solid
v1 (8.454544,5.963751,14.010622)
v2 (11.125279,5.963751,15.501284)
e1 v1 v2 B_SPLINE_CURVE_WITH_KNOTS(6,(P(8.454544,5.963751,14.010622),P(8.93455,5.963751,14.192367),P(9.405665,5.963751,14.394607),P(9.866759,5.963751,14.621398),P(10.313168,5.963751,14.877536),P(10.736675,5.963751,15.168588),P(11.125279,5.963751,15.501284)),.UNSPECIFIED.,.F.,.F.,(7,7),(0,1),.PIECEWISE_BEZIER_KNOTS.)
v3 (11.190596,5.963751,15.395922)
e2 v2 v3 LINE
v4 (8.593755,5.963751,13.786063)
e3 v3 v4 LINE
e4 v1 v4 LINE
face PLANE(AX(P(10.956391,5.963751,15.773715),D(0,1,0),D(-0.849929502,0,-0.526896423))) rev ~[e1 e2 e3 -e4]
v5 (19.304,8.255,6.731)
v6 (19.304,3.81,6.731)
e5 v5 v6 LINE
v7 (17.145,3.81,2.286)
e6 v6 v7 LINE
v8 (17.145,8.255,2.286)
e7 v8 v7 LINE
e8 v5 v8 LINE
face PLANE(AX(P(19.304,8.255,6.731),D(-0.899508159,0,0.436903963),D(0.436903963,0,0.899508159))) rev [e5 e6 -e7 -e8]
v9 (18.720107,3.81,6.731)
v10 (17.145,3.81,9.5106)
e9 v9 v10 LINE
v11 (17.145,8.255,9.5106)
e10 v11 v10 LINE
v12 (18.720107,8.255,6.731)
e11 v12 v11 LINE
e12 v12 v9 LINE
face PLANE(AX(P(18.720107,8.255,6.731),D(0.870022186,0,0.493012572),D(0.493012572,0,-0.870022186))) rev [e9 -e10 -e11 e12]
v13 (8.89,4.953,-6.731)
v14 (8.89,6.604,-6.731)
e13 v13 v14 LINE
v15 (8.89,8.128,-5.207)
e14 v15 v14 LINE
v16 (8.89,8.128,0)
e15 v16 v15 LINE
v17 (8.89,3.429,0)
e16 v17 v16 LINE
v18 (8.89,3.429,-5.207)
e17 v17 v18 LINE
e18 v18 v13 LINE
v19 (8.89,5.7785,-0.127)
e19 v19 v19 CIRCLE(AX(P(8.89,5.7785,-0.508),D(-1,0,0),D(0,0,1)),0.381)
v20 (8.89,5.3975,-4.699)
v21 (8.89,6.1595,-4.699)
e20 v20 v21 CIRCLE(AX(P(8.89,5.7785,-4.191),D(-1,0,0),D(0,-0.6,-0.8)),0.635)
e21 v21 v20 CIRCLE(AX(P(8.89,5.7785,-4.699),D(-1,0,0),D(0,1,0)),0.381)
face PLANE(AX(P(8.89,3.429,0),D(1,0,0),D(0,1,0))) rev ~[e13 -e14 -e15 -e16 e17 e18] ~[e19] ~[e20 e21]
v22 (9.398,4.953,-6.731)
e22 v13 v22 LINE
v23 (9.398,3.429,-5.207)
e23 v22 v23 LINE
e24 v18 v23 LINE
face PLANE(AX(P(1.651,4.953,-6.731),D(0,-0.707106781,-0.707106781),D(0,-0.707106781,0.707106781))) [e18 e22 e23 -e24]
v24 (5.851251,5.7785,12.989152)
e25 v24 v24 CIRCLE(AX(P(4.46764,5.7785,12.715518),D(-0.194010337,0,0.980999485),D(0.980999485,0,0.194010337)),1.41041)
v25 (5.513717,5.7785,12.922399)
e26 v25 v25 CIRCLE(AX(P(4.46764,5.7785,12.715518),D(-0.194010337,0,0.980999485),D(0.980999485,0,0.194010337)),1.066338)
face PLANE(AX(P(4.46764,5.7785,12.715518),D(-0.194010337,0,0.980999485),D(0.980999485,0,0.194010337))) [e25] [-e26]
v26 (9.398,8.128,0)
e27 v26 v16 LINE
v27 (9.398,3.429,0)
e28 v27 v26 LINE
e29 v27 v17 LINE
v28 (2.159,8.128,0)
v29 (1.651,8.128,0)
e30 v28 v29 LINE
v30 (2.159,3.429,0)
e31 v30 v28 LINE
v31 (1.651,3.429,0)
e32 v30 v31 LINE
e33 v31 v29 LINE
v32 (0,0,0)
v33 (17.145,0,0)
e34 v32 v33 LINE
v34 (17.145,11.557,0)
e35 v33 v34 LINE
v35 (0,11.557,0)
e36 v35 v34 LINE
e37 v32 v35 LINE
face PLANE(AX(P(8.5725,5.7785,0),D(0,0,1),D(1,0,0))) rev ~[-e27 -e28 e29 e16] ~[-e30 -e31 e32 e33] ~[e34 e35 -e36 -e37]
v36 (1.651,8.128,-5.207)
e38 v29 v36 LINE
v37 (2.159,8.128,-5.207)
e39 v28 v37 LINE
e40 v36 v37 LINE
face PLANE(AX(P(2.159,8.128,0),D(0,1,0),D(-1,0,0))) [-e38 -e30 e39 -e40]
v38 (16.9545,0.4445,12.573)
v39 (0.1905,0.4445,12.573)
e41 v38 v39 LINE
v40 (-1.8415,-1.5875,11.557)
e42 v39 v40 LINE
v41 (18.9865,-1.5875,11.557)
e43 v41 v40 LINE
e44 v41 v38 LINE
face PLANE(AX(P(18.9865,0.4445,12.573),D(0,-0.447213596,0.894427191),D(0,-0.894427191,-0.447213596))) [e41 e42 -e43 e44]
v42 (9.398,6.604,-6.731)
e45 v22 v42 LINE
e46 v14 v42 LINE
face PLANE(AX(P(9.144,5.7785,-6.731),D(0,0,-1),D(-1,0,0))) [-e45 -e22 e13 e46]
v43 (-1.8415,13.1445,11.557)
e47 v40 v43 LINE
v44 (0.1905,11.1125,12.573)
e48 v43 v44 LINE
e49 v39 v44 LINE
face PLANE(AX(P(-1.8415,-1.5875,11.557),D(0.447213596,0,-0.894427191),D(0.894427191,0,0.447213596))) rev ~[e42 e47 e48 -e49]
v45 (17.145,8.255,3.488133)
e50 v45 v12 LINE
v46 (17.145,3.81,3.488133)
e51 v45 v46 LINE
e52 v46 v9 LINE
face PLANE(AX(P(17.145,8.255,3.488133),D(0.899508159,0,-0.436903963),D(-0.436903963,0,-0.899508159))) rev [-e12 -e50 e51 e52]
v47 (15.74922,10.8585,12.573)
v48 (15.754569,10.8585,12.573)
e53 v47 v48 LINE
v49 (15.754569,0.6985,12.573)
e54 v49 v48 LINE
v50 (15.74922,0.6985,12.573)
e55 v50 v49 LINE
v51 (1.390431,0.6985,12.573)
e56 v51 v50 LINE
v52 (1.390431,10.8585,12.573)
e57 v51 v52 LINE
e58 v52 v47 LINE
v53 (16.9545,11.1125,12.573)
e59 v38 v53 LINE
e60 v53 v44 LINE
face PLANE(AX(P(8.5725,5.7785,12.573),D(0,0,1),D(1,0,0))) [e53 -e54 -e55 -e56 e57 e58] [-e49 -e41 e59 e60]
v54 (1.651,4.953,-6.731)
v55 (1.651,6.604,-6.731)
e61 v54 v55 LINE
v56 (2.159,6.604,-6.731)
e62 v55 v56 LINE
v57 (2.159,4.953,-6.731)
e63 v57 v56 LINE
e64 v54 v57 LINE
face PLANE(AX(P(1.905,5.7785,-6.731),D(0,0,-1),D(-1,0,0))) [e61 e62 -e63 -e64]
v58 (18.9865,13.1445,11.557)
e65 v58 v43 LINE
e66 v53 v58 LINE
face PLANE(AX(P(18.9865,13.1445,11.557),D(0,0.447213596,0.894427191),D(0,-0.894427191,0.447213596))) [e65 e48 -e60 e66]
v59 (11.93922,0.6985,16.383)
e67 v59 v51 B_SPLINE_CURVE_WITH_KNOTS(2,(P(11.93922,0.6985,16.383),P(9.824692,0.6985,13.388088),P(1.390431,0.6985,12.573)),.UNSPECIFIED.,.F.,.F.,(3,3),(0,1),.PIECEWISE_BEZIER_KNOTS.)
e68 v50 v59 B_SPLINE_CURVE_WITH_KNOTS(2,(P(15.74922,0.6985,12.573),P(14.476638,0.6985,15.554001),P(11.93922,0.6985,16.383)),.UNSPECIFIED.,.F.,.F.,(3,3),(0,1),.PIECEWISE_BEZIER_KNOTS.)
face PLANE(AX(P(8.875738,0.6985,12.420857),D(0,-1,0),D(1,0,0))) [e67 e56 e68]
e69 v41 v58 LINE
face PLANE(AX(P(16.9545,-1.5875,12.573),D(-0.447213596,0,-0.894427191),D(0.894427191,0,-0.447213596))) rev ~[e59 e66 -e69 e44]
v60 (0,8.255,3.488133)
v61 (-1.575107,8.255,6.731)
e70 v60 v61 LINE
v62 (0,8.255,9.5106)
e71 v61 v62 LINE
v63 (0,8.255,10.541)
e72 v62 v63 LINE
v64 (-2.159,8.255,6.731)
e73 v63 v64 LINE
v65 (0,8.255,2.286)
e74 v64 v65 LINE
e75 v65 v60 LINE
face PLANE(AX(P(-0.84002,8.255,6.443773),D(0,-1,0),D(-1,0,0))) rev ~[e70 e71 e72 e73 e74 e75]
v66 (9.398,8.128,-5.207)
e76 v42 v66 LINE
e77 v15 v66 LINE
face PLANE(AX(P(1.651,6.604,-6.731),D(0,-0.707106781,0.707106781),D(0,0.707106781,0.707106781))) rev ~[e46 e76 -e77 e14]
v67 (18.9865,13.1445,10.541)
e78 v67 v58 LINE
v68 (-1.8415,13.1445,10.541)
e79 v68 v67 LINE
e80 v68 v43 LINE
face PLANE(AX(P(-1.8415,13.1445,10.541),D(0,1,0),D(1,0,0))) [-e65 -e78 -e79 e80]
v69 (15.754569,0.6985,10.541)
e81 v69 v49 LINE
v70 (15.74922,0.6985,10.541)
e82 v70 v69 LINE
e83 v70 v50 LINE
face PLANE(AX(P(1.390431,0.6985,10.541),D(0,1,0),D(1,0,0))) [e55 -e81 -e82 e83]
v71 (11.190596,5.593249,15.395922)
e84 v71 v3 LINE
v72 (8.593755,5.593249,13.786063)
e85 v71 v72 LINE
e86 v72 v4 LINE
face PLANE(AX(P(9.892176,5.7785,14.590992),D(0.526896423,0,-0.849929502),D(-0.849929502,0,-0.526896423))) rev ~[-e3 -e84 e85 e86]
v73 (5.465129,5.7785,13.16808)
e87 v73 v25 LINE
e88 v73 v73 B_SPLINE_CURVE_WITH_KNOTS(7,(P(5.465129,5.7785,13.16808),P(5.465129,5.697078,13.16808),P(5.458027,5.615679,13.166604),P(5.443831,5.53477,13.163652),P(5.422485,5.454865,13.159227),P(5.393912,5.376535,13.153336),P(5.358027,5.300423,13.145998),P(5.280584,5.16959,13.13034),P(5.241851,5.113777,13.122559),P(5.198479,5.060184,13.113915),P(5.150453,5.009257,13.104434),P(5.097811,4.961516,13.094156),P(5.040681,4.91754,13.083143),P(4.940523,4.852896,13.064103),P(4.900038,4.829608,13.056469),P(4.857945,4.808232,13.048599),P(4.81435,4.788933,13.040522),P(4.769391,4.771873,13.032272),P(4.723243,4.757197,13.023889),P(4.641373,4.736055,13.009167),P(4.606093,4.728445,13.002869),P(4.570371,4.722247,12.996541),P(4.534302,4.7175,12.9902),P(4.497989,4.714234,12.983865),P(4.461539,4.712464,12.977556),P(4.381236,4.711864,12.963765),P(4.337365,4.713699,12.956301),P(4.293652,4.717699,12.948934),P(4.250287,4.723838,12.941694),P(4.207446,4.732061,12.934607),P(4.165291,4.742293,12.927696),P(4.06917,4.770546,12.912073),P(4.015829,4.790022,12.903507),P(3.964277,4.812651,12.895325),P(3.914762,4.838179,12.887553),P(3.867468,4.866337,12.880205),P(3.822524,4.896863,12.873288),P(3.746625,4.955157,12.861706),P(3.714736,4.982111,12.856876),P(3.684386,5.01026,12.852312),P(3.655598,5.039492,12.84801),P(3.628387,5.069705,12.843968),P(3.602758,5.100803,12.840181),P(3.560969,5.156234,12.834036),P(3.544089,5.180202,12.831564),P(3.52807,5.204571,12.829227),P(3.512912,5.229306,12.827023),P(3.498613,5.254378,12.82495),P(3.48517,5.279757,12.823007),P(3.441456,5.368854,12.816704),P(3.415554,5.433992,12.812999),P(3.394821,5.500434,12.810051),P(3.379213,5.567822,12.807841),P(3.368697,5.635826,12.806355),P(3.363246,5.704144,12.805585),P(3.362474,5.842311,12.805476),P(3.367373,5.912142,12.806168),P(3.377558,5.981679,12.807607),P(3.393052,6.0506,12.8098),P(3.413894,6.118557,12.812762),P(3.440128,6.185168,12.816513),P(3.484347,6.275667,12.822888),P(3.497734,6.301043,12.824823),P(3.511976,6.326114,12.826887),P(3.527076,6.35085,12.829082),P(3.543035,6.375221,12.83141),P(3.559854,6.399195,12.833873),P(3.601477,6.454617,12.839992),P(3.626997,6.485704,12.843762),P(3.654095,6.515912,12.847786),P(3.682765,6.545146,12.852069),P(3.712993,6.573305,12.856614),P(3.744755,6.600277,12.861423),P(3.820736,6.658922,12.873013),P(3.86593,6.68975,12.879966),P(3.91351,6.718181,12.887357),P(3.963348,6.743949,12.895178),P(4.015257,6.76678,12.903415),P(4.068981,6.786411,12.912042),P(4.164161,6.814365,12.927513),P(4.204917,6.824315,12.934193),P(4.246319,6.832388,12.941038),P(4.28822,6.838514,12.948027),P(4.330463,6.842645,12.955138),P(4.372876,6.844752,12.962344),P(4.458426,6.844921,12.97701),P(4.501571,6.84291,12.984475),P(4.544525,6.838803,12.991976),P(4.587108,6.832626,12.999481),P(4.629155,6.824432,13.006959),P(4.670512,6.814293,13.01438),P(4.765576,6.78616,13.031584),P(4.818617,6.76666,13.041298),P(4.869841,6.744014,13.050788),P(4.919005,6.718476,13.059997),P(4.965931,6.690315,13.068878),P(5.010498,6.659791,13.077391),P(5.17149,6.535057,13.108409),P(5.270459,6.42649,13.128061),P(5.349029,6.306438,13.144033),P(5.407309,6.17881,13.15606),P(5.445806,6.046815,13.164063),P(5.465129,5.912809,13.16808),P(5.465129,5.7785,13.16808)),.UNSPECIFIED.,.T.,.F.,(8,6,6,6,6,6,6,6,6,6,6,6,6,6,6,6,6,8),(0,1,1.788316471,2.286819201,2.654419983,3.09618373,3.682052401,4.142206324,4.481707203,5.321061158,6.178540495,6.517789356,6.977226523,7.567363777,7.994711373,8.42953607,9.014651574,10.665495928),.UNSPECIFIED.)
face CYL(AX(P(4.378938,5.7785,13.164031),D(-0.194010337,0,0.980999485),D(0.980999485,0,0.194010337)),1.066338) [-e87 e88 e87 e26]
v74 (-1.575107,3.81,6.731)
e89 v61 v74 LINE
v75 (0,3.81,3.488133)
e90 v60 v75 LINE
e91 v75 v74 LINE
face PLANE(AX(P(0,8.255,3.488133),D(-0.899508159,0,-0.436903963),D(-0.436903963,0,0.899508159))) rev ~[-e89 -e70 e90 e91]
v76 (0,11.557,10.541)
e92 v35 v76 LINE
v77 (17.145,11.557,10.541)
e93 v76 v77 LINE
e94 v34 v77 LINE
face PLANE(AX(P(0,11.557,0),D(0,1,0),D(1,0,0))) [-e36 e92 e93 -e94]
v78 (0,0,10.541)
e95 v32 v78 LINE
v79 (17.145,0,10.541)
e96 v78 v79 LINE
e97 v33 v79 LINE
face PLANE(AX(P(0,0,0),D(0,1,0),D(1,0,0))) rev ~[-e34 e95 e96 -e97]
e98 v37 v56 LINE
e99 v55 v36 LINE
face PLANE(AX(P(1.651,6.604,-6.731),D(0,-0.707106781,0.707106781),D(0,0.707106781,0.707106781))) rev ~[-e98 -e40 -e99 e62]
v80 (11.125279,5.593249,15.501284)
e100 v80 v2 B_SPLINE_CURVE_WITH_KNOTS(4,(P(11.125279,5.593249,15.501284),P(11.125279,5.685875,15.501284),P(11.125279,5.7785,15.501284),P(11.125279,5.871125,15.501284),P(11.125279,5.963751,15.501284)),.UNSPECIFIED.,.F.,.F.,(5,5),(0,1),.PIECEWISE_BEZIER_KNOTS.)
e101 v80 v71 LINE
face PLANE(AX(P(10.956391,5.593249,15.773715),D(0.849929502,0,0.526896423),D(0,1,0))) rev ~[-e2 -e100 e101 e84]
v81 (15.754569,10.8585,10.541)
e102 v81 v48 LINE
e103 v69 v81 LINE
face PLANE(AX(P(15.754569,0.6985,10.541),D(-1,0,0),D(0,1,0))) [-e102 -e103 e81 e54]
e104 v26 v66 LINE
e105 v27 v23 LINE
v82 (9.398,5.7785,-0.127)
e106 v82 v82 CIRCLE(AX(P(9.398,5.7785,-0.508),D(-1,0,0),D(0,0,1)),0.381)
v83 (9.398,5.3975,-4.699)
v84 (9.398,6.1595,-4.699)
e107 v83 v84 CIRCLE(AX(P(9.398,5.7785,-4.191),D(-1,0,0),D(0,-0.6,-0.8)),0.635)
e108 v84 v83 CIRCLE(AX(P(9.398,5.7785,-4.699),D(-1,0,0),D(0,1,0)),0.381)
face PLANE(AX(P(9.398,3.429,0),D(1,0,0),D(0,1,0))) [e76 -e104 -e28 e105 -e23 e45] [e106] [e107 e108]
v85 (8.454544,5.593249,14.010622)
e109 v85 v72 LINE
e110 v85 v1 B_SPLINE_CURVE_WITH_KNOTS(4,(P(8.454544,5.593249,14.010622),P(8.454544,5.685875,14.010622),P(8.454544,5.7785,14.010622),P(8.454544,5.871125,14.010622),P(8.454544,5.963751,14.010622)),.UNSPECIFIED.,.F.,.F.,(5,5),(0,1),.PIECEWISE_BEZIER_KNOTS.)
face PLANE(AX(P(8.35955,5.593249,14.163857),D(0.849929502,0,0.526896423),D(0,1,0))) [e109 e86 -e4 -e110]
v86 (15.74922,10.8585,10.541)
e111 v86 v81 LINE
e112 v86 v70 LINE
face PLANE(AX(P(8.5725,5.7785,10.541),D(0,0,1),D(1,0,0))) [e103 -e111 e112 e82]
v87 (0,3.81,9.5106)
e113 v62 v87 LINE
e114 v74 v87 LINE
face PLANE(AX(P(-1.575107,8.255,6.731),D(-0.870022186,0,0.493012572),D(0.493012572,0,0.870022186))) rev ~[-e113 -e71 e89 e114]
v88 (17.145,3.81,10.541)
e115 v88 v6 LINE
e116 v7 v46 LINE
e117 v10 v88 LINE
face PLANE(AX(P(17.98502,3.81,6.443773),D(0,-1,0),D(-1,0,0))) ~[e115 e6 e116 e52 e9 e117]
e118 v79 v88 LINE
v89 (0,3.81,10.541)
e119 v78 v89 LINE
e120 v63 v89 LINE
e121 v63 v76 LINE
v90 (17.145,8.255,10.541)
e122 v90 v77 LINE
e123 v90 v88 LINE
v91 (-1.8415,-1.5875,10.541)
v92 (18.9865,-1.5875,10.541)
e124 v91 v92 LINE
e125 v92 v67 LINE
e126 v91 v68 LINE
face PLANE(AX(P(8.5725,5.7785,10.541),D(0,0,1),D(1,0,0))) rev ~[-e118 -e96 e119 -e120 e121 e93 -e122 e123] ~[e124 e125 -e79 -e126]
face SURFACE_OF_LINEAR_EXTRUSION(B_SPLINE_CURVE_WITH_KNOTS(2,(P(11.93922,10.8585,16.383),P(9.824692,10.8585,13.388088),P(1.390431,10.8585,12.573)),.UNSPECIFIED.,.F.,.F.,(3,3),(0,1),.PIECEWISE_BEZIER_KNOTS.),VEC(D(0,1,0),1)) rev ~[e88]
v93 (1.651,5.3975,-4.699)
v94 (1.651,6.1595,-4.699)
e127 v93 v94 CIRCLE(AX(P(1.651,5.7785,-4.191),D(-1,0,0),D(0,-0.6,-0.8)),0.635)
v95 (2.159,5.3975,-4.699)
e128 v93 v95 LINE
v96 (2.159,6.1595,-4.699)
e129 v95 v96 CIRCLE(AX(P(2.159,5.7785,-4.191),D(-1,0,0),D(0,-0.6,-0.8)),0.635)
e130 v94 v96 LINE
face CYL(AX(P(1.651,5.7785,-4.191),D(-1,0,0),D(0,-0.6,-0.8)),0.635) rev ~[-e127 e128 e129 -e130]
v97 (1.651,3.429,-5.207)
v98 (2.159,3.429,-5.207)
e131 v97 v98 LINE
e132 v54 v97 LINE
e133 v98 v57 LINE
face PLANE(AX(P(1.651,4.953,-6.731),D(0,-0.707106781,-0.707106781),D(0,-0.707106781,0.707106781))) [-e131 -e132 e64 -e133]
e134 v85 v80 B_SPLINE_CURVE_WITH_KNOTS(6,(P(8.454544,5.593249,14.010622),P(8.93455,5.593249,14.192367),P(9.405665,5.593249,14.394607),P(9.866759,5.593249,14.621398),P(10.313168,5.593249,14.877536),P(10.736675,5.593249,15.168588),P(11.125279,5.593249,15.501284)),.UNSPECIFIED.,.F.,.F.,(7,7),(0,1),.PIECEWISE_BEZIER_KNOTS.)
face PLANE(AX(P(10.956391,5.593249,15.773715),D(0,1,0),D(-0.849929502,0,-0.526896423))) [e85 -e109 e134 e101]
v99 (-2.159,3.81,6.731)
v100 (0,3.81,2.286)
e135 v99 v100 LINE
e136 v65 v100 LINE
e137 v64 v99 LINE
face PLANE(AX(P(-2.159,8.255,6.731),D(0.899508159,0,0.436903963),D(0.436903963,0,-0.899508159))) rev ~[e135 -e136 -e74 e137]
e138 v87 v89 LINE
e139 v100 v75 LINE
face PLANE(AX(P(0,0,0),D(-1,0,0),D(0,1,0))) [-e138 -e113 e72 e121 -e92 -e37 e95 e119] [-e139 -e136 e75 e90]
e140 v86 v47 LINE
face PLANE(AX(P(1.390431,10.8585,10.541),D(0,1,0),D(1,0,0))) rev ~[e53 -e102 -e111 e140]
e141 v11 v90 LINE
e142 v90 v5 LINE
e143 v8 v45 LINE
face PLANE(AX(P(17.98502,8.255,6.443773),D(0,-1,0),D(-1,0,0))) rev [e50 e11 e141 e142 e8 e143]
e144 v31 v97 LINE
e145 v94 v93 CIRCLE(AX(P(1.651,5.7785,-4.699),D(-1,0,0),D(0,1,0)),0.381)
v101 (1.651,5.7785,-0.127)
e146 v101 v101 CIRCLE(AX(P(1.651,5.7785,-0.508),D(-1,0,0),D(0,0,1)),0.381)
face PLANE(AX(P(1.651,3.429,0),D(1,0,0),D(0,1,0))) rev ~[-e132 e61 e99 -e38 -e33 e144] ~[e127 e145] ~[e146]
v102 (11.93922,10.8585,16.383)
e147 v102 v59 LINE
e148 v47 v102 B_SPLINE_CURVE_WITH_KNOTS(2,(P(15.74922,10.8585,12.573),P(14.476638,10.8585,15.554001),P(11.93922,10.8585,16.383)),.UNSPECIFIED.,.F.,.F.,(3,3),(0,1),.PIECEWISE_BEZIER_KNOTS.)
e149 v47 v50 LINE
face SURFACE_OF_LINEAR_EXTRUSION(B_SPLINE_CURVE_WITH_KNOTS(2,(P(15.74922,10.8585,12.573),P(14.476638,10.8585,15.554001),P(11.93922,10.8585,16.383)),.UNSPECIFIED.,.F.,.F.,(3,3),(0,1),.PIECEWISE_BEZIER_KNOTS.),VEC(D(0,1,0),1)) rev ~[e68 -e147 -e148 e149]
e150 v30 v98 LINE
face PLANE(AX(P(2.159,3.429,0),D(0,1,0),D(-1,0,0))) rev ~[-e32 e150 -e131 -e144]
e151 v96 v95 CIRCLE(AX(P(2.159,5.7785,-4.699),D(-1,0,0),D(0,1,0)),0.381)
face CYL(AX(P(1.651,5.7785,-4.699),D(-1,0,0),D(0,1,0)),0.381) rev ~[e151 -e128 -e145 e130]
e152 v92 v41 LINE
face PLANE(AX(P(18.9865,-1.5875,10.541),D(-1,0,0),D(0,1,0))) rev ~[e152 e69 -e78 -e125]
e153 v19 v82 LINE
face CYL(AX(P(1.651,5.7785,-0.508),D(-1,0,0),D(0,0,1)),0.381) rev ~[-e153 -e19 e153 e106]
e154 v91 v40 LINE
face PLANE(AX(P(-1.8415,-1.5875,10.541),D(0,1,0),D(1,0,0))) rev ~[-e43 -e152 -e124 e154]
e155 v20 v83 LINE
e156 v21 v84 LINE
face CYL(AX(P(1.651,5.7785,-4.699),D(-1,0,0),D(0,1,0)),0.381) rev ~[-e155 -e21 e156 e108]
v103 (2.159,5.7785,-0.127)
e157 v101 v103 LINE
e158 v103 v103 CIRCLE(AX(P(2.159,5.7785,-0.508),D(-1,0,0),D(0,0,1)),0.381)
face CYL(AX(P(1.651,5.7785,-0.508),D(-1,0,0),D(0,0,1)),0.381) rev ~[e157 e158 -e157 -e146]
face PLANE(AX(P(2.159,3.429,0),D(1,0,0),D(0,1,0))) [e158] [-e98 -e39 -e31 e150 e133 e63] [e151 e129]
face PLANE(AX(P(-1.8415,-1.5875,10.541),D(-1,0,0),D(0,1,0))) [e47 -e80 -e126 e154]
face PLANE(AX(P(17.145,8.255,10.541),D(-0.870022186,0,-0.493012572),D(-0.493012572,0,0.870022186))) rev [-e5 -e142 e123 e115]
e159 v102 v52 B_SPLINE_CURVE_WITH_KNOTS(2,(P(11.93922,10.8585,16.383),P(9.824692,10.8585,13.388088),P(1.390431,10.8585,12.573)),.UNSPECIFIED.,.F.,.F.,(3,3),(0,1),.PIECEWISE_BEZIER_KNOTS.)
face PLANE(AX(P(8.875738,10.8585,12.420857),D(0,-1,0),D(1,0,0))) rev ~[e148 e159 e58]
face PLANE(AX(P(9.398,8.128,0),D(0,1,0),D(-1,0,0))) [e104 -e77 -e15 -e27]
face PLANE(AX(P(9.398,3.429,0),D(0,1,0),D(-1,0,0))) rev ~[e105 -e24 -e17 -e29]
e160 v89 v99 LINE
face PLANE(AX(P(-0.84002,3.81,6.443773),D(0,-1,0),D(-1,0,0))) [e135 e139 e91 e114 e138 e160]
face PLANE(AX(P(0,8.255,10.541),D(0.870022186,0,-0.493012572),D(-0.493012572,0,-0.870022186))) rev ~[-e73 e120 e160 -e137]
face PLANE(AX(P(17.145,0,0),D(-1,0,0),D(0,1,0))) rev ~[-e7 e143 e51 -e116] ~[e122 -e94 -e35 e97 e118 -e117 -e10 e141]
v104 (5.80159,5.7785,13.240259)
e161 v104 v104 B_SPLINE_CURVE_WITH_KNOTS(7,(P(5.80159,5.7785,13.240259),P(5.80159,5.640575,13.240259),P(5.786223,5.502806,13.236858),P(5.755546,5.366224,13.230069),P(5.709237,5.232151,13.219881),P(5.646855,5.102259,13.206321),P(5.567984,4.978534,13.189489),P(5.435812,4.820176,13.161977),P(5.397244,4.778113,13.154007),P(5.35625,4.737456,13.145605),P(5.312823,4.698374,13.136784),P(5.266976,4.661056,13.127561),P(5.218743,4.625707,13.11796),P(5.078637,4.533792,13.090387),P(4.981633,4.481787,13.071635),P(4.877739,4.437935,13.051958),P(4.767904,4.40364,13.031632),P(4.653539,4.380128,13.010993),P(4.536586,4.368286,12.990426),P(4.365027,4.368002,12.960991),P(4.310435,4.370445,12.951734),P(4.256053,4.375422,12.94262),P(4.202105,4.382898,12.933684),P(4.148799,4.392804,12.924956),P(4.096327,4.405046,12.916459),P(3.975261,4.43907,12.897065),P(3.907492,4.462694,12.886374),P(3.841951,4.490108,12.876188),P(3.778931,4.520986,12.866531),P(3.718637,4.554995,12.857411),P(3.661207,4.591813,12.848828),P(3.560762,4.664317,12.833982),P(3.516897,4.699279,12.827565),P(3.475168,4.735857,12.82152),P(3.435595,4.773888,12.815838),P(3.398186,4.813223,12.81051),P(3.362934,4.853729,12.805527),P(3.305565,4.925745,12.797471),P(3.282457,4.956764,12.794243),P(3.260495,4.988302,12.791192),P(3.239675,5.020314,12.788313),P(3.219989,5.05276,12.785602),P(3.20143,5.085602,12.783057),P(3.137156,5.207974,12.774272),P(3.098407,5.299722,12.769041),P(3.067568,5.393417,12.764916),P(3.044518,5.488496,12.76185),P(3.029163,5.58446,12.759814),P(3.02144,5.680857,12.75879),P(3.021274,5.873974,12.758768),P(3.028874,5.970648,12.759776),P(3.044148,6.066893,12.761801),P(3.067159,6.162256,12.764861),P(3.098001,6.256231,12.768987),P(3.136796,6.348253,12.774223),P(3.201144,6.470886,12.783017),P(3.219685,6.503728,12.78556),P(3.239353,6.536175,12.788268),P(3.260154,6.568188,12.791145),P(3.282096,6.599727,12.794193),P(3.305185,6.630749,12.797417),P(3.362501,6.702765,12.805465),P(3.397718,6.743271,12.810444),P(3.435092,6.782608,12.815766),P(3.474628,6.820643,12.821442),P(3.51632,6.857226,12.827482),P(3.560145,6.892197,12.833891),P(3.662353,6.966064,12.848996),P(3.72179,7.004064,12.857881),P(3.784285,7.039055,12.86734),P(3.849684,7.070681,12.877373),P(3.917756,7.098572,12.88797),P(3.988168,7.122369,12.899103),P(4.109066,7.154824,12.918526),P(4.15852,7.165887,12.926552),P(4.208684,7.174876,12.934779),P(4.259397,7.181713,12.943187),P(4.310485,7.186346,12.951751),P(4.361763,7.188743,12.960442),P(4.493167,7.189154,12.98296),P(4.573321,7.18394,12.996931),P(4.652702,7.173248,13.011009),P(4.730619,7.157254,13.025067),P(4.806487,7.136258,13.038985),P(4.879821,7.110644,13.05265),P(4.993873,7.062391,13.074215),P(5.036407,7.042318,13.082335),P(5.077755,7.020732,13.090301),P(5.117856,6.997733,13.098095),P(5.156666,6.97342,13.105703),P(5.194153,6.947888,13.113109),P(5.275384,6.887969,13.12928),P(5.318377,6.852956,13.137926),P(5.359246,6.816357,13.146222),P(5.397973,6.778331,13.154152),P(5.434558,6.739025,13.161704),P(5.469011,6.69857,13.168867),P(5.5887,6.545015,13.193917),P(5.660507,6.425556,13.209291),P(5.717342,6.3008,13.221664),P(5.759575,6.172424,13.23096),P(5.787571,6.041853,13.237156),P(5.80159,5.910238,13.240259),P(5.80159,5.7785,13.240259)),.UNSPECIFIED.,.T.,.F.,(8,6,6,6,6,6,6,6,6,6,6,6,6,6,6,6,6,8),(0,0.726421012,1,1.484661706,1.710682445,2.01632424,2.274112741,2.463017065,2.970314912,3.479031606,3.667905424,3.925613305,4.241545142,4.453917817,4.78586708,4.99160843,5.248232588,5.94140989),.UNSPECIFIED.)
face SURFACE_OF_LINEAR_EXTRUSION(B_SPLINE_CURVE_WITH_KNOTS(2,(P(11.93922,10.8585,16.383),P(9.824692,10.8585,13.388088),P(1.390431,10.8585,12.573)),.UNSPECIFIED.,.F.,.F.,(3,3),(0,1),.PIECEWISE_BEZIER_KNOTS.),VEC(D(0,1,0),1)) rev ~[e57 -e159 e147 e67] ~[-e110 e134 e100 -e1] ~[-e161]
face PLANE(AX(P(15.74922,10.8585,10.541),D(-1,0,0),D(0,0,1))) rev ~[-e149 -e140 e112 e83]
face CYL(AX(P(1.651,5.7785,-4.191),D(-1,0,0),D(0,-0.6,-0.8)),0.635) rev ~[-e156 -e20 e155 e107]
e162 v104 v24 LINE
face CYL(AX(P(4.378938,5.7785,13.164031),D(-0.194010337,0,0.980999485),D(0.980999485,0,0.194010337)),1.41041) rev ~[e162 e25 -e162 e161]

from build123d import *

# Parameters (mm, degrees)
SKETCH1_W           = 17.145
SKETCH1_H           = 11.557
BOSS_EXTRUDE1_DEPTH = 10.541
SKETCH2_W           = 0.508
SKETCH2_H           = 4.699
BOSS_EXTRUDE2_DEPTH = 6.731
CUT_EXTRUDE1_REACH  = 24.017
SKETCH3_R           = 0.381
SKETCH4_W           = 20.828
SKETCH4_H           = 14.732
SKETCH4_W_2         = 14.364137932
SKETCH4_H_2         = 10.16
BOSS_EXTRUDE3_DEPTH = 2.032
CUT_EXTRUDE2_DEPTH  = 28.121934578
CUT_EXTRUDE3_DEPTH  = 28.652554914
BOSS_EXTRUDE4_DEPTH = 10.16
SKETCH8_W           = 3.055360255
SKETCH8_H           = 0.37050197
CUT_EXTRUDE4_DEPTH  = 0.4445
SKETCH9_R           = 1.410409678
SKETCH9_R_2         = 1.066337698
CUT_EXTRUDE5_DEPTH  = 0.4572
BOSS_EXTRUDE5_DEPTH = 4.445


with BuildPart() as part:
    # Sketch1 → Boss-Extrude1 (new body)
    with BuildSketch(Plane.XY):
        with Locations((8.5725, 5.7785)):
            Rectangle(SKETCH1_W, SKETCH1_H)
    extrude(amount=BOSS_EXTRUDE1_DEPTH)

    # Sketch2 → Boss-Extrude2 (add)
    with BuildSketch(Plane(origin=(0, 0, 0), x_dir=(-1, 0, 0), z_dir=(0, 0, -1))):
        with Locations((-1.905, 5.7785)):
            Rectangle(SKETCH2_W, SKETCH2_H)
        with Locations((-9.144, 5.7785)):
            Rectangle(SKETCH2_W, SKETCH2_H)
    extrude(amount=BOSS_EXTRUDE2_DEPTH)

    # Cut-Extrude1: up to this face of the body (flat: up to its plane)
    cut_extrude1_end = Plane(part.part.faces().sort_by_distance((9.398, 5.7785, -3.3655))[0])
    # Sketch3 → Cut-Extrude1 (cut, up to the picked face)
    with BuildSketch(Plane.ZY.offset(-1.651), mode=Mode.PRIVATE) as cut_extrude1_sk1:
        with Locations((-0.508, 5.7785)):
            Circle(SKETCH3_R)
    cut_extrude1_tool1 = split(extrude(cut_extrude1_sk1.sketch, amount=-CUT_EXTRUDE1_REACH, mode=Mode.PRIVATE), bisect_by=cut_extrude1_end, keep=Keep.BOTH, mode=Mode.PRIVATE)
    # Sketch3 → Cut-Extrude1 (cut, up to the picked face)
    with BuildSketch(Plane.ZY.offset(-1.651), mode=Mode.PRIVATE) as cut_extrude1_sk2:
        Polygon((-6.731, 6.604), (-5.207, 8.128), (-6.731, 8.128), align=None)
    cut_extrude1_tool2 = split(extrude(cut_extrude1_sk2.sketch, amount=-CUT_EXTRUDE1_REACH, mode=Mode.PRIVATE), bisect_by=cut_extrude1_end, keep=Keep.BOTH, mode=Mode.PRIVATE)
    # Sketch3 → Cut-Extrude1 (cut, up to the picked face)
    with BuildSketch(Plane.ZY.offset(-1.651), mode=Mode.PRIVATE) as cut_extrude1_sk3:
        Polygon((-6.731, 4.953), (-5.207, 3.429), (-6.731, 3.429), align=None)
    cut_extrude1_tool3 = split(extrude(cut_extrude1_sk3.sketch, amount=-CUT_EXTRUDE1_REACH, mode=Mode.PRIVATE), bisect_by=cut_extrude1_end, keep=Keep.BOTH, mode=Mode.PRIVATE)
    # Sketch3 → Cut-Extrude1 (cut, up to the picked face)
    with BuildSketch(Plane.ZY.offset(-1.651), mode=Mode.PRIVATE) as cut_extrude1_sk4:
        with BuildLine():
            ThreePointArc((-4.699, 5.3975), (-3.556, 5.7785), (-4.699, 6.1595))
            ThreePointArc((-4.699, 6.1595), (-5.08, 5.7785), (-4.699, 5.3975))
        make_face()
    cut_extrude1_tool4 = split(extrude(cut_extrude1_sk4.sketch, amount=-CUT_EXTRUDE1_REACH, mode=Mode.PRIVATE), bisect_by=cut_extrude1_end, keep=Keep.BOTH, mode=Mode.PRIVATE)
    add(cut_extrude1_tool1.solids().sort_by(Axis((1.651, 5.7785, -0.508), (1, 0, 0)))[0], mode=Mode.SUBTRACT)
    add(cut_extrude1_tool2.solids().sort_by(Axis((1.651, 7.62, -6.223), (1, 0, 0)))[0], mode=Mode.SUBTRACT)
    add(cut_extrude1_tool3.solids().sort_by(Axis((1.651, 3.937, -6.223), (1, 0, 0)))[0], mode=Mode.SUBTRACT)
    add(cut_extrude1_tool4.solids().sort_by(Axis((1.651, 5.7785, -4.272067), (1, 0, 0)))[0], mode=Mode.SUBTRACT)

    # Sketch4 → Boss-Extrude3 (add)
    with BuildSketch(Plane.XY.offset(10.541)):
        with Locations((8.5725, 5.7785)):
            Rectangle(SKETCH4_W, SKETCH4_H)
        with Locations((8.5725, 5.7785)):
            Rectangle(SKETCH4_W_2, SKETCH4_H_2, mode=Mode.SUBTRACT)
    extrude(amount=BOSS_EXTRUDE3_DEPTH)

    # Sketch5 → Cut-Extrude2 (cut, through all)
    with BuildSketch(Plane.XZ.offset(1.5875)):
        Polygon((-1.8415, 11.557), (0.1905, 12.573), (-1.8415, 12.573), align=None)
        Polygon((16.9545, 12.573), (18.9865, 11.557), (18.9865, 12.573), align=None)
    extrude(amount=-CUT_EXTRUDE2_DEPTH, mode=Mode.SUBTRACT)

    # Sketch6 → Cut-Extrude3 (cut, through all)
    with BuildSketch(Plane(origin=(18.9865, 0, 0), x_dir=(0, 0, -1), z_dir=(1, 0, 0))):
        Polygon((-11.557, 13.1445), (-12.573, 11.1125), (-12.573, 13.1445), align=None)
        Polygon((-11.557, -1.5875), (-12.573, -1.5875), (-12.573, 0.4445), align=None)
    extrude(amount=-CUT_EXTRUDE3_DEPTH, mode=Mode.SUBTRACT)

    # Sketch7 → Boss-Extrude4 (add)
    with BuildSketch(Plane.XZ.offset(-10.8585)):
        with BuildLine():
            Line((15.749219614, 10.541), (15.749219614, 12.573))
            add(Edge.make_bspline(
                [(15.749219614, 12.573), (14.476637744, 15.554000954), (11.939219614, 16.383)],
                knots=[0, 0, 0, 1, 1, 1], degree=2))
            add(Edge.make_bspline(
                [(11.939219614, 16.383), (9.824691935, 13.388087839), (1.390431034, 12.573)],
                knots=[0, 0, 0, 1, 1, 1], degree=2))
            Line((1.390431034, 12.573), (1.390431034, 10.541))
            Line((1.390431034, 10.541), (15.749219614, 10.541))
        make_face()
    extrude(amount=BOSS_EXTRUDE4_DEPTH)

    # Sketch8 → Cut-Extrude4 (cut)
    with BuildSketch(Plane(origin=(-4.022149692, 0, 6.488075329), x_dir=(-0.8499295023207375, 0, -0.5268964234883585), z_dir=(0.5268964234883585, 0, -0.8499295023207375))):
        with Locations((-16.095593607, 5.7785)):
            Rectangle(SKETCH8_W, SKETCH8_H)
    extrude(amount=CUT_EXTRUDE4_DEPTH, mode=Mode.SUBTRACT)

    # Sketch9 → Cut-Extrude5 (cut)
    with BuildSketch(Plane(origin=(-2.340608329, 0, 11.835119688), x_dir=(0.9809994846940211, 0, 0.1940103374309346), z_dir=(-0.1940103374309346, 0, 0.9809994846940211))):
        with Locations((6.849694399, 5.7785)):
            Circle(SKETCH9_R)
        with Locations((6.849694399, 5.7785)):
            Circle(SKETCH9_R_2, mode=Mode.SUBTRACT)
    extrude(amount=-CUT_EXTRUDE5_DEPTH, mode=Mode.SUBTRACT)

    # Sketch10 → Boss-Extrude5 (add)
    with BuildSketch(Plane(origin=(0, 8.255, 0), x_dir=(1, 0, 0), z_dir=(0, 1, 0))):
        Polygon((0, -10.541), (-2.159, -6.731), (0, -2.286), (0, -3.488132969), (-1.575106844, -6.731), (0, -9.510600313), align=None)
    boss_extrude5 = extrude(amount=-BOSS_EXTRUDE5_DEPTH)

    # Mirror1: Boss-Extrude5 across plane
    add(boss_extrude5.mirror(Plane(origin=(8.5725, 0, 0), x_dir=(0, 0, 1), z_dir=(1, 0, 0))))


solid = part.part
